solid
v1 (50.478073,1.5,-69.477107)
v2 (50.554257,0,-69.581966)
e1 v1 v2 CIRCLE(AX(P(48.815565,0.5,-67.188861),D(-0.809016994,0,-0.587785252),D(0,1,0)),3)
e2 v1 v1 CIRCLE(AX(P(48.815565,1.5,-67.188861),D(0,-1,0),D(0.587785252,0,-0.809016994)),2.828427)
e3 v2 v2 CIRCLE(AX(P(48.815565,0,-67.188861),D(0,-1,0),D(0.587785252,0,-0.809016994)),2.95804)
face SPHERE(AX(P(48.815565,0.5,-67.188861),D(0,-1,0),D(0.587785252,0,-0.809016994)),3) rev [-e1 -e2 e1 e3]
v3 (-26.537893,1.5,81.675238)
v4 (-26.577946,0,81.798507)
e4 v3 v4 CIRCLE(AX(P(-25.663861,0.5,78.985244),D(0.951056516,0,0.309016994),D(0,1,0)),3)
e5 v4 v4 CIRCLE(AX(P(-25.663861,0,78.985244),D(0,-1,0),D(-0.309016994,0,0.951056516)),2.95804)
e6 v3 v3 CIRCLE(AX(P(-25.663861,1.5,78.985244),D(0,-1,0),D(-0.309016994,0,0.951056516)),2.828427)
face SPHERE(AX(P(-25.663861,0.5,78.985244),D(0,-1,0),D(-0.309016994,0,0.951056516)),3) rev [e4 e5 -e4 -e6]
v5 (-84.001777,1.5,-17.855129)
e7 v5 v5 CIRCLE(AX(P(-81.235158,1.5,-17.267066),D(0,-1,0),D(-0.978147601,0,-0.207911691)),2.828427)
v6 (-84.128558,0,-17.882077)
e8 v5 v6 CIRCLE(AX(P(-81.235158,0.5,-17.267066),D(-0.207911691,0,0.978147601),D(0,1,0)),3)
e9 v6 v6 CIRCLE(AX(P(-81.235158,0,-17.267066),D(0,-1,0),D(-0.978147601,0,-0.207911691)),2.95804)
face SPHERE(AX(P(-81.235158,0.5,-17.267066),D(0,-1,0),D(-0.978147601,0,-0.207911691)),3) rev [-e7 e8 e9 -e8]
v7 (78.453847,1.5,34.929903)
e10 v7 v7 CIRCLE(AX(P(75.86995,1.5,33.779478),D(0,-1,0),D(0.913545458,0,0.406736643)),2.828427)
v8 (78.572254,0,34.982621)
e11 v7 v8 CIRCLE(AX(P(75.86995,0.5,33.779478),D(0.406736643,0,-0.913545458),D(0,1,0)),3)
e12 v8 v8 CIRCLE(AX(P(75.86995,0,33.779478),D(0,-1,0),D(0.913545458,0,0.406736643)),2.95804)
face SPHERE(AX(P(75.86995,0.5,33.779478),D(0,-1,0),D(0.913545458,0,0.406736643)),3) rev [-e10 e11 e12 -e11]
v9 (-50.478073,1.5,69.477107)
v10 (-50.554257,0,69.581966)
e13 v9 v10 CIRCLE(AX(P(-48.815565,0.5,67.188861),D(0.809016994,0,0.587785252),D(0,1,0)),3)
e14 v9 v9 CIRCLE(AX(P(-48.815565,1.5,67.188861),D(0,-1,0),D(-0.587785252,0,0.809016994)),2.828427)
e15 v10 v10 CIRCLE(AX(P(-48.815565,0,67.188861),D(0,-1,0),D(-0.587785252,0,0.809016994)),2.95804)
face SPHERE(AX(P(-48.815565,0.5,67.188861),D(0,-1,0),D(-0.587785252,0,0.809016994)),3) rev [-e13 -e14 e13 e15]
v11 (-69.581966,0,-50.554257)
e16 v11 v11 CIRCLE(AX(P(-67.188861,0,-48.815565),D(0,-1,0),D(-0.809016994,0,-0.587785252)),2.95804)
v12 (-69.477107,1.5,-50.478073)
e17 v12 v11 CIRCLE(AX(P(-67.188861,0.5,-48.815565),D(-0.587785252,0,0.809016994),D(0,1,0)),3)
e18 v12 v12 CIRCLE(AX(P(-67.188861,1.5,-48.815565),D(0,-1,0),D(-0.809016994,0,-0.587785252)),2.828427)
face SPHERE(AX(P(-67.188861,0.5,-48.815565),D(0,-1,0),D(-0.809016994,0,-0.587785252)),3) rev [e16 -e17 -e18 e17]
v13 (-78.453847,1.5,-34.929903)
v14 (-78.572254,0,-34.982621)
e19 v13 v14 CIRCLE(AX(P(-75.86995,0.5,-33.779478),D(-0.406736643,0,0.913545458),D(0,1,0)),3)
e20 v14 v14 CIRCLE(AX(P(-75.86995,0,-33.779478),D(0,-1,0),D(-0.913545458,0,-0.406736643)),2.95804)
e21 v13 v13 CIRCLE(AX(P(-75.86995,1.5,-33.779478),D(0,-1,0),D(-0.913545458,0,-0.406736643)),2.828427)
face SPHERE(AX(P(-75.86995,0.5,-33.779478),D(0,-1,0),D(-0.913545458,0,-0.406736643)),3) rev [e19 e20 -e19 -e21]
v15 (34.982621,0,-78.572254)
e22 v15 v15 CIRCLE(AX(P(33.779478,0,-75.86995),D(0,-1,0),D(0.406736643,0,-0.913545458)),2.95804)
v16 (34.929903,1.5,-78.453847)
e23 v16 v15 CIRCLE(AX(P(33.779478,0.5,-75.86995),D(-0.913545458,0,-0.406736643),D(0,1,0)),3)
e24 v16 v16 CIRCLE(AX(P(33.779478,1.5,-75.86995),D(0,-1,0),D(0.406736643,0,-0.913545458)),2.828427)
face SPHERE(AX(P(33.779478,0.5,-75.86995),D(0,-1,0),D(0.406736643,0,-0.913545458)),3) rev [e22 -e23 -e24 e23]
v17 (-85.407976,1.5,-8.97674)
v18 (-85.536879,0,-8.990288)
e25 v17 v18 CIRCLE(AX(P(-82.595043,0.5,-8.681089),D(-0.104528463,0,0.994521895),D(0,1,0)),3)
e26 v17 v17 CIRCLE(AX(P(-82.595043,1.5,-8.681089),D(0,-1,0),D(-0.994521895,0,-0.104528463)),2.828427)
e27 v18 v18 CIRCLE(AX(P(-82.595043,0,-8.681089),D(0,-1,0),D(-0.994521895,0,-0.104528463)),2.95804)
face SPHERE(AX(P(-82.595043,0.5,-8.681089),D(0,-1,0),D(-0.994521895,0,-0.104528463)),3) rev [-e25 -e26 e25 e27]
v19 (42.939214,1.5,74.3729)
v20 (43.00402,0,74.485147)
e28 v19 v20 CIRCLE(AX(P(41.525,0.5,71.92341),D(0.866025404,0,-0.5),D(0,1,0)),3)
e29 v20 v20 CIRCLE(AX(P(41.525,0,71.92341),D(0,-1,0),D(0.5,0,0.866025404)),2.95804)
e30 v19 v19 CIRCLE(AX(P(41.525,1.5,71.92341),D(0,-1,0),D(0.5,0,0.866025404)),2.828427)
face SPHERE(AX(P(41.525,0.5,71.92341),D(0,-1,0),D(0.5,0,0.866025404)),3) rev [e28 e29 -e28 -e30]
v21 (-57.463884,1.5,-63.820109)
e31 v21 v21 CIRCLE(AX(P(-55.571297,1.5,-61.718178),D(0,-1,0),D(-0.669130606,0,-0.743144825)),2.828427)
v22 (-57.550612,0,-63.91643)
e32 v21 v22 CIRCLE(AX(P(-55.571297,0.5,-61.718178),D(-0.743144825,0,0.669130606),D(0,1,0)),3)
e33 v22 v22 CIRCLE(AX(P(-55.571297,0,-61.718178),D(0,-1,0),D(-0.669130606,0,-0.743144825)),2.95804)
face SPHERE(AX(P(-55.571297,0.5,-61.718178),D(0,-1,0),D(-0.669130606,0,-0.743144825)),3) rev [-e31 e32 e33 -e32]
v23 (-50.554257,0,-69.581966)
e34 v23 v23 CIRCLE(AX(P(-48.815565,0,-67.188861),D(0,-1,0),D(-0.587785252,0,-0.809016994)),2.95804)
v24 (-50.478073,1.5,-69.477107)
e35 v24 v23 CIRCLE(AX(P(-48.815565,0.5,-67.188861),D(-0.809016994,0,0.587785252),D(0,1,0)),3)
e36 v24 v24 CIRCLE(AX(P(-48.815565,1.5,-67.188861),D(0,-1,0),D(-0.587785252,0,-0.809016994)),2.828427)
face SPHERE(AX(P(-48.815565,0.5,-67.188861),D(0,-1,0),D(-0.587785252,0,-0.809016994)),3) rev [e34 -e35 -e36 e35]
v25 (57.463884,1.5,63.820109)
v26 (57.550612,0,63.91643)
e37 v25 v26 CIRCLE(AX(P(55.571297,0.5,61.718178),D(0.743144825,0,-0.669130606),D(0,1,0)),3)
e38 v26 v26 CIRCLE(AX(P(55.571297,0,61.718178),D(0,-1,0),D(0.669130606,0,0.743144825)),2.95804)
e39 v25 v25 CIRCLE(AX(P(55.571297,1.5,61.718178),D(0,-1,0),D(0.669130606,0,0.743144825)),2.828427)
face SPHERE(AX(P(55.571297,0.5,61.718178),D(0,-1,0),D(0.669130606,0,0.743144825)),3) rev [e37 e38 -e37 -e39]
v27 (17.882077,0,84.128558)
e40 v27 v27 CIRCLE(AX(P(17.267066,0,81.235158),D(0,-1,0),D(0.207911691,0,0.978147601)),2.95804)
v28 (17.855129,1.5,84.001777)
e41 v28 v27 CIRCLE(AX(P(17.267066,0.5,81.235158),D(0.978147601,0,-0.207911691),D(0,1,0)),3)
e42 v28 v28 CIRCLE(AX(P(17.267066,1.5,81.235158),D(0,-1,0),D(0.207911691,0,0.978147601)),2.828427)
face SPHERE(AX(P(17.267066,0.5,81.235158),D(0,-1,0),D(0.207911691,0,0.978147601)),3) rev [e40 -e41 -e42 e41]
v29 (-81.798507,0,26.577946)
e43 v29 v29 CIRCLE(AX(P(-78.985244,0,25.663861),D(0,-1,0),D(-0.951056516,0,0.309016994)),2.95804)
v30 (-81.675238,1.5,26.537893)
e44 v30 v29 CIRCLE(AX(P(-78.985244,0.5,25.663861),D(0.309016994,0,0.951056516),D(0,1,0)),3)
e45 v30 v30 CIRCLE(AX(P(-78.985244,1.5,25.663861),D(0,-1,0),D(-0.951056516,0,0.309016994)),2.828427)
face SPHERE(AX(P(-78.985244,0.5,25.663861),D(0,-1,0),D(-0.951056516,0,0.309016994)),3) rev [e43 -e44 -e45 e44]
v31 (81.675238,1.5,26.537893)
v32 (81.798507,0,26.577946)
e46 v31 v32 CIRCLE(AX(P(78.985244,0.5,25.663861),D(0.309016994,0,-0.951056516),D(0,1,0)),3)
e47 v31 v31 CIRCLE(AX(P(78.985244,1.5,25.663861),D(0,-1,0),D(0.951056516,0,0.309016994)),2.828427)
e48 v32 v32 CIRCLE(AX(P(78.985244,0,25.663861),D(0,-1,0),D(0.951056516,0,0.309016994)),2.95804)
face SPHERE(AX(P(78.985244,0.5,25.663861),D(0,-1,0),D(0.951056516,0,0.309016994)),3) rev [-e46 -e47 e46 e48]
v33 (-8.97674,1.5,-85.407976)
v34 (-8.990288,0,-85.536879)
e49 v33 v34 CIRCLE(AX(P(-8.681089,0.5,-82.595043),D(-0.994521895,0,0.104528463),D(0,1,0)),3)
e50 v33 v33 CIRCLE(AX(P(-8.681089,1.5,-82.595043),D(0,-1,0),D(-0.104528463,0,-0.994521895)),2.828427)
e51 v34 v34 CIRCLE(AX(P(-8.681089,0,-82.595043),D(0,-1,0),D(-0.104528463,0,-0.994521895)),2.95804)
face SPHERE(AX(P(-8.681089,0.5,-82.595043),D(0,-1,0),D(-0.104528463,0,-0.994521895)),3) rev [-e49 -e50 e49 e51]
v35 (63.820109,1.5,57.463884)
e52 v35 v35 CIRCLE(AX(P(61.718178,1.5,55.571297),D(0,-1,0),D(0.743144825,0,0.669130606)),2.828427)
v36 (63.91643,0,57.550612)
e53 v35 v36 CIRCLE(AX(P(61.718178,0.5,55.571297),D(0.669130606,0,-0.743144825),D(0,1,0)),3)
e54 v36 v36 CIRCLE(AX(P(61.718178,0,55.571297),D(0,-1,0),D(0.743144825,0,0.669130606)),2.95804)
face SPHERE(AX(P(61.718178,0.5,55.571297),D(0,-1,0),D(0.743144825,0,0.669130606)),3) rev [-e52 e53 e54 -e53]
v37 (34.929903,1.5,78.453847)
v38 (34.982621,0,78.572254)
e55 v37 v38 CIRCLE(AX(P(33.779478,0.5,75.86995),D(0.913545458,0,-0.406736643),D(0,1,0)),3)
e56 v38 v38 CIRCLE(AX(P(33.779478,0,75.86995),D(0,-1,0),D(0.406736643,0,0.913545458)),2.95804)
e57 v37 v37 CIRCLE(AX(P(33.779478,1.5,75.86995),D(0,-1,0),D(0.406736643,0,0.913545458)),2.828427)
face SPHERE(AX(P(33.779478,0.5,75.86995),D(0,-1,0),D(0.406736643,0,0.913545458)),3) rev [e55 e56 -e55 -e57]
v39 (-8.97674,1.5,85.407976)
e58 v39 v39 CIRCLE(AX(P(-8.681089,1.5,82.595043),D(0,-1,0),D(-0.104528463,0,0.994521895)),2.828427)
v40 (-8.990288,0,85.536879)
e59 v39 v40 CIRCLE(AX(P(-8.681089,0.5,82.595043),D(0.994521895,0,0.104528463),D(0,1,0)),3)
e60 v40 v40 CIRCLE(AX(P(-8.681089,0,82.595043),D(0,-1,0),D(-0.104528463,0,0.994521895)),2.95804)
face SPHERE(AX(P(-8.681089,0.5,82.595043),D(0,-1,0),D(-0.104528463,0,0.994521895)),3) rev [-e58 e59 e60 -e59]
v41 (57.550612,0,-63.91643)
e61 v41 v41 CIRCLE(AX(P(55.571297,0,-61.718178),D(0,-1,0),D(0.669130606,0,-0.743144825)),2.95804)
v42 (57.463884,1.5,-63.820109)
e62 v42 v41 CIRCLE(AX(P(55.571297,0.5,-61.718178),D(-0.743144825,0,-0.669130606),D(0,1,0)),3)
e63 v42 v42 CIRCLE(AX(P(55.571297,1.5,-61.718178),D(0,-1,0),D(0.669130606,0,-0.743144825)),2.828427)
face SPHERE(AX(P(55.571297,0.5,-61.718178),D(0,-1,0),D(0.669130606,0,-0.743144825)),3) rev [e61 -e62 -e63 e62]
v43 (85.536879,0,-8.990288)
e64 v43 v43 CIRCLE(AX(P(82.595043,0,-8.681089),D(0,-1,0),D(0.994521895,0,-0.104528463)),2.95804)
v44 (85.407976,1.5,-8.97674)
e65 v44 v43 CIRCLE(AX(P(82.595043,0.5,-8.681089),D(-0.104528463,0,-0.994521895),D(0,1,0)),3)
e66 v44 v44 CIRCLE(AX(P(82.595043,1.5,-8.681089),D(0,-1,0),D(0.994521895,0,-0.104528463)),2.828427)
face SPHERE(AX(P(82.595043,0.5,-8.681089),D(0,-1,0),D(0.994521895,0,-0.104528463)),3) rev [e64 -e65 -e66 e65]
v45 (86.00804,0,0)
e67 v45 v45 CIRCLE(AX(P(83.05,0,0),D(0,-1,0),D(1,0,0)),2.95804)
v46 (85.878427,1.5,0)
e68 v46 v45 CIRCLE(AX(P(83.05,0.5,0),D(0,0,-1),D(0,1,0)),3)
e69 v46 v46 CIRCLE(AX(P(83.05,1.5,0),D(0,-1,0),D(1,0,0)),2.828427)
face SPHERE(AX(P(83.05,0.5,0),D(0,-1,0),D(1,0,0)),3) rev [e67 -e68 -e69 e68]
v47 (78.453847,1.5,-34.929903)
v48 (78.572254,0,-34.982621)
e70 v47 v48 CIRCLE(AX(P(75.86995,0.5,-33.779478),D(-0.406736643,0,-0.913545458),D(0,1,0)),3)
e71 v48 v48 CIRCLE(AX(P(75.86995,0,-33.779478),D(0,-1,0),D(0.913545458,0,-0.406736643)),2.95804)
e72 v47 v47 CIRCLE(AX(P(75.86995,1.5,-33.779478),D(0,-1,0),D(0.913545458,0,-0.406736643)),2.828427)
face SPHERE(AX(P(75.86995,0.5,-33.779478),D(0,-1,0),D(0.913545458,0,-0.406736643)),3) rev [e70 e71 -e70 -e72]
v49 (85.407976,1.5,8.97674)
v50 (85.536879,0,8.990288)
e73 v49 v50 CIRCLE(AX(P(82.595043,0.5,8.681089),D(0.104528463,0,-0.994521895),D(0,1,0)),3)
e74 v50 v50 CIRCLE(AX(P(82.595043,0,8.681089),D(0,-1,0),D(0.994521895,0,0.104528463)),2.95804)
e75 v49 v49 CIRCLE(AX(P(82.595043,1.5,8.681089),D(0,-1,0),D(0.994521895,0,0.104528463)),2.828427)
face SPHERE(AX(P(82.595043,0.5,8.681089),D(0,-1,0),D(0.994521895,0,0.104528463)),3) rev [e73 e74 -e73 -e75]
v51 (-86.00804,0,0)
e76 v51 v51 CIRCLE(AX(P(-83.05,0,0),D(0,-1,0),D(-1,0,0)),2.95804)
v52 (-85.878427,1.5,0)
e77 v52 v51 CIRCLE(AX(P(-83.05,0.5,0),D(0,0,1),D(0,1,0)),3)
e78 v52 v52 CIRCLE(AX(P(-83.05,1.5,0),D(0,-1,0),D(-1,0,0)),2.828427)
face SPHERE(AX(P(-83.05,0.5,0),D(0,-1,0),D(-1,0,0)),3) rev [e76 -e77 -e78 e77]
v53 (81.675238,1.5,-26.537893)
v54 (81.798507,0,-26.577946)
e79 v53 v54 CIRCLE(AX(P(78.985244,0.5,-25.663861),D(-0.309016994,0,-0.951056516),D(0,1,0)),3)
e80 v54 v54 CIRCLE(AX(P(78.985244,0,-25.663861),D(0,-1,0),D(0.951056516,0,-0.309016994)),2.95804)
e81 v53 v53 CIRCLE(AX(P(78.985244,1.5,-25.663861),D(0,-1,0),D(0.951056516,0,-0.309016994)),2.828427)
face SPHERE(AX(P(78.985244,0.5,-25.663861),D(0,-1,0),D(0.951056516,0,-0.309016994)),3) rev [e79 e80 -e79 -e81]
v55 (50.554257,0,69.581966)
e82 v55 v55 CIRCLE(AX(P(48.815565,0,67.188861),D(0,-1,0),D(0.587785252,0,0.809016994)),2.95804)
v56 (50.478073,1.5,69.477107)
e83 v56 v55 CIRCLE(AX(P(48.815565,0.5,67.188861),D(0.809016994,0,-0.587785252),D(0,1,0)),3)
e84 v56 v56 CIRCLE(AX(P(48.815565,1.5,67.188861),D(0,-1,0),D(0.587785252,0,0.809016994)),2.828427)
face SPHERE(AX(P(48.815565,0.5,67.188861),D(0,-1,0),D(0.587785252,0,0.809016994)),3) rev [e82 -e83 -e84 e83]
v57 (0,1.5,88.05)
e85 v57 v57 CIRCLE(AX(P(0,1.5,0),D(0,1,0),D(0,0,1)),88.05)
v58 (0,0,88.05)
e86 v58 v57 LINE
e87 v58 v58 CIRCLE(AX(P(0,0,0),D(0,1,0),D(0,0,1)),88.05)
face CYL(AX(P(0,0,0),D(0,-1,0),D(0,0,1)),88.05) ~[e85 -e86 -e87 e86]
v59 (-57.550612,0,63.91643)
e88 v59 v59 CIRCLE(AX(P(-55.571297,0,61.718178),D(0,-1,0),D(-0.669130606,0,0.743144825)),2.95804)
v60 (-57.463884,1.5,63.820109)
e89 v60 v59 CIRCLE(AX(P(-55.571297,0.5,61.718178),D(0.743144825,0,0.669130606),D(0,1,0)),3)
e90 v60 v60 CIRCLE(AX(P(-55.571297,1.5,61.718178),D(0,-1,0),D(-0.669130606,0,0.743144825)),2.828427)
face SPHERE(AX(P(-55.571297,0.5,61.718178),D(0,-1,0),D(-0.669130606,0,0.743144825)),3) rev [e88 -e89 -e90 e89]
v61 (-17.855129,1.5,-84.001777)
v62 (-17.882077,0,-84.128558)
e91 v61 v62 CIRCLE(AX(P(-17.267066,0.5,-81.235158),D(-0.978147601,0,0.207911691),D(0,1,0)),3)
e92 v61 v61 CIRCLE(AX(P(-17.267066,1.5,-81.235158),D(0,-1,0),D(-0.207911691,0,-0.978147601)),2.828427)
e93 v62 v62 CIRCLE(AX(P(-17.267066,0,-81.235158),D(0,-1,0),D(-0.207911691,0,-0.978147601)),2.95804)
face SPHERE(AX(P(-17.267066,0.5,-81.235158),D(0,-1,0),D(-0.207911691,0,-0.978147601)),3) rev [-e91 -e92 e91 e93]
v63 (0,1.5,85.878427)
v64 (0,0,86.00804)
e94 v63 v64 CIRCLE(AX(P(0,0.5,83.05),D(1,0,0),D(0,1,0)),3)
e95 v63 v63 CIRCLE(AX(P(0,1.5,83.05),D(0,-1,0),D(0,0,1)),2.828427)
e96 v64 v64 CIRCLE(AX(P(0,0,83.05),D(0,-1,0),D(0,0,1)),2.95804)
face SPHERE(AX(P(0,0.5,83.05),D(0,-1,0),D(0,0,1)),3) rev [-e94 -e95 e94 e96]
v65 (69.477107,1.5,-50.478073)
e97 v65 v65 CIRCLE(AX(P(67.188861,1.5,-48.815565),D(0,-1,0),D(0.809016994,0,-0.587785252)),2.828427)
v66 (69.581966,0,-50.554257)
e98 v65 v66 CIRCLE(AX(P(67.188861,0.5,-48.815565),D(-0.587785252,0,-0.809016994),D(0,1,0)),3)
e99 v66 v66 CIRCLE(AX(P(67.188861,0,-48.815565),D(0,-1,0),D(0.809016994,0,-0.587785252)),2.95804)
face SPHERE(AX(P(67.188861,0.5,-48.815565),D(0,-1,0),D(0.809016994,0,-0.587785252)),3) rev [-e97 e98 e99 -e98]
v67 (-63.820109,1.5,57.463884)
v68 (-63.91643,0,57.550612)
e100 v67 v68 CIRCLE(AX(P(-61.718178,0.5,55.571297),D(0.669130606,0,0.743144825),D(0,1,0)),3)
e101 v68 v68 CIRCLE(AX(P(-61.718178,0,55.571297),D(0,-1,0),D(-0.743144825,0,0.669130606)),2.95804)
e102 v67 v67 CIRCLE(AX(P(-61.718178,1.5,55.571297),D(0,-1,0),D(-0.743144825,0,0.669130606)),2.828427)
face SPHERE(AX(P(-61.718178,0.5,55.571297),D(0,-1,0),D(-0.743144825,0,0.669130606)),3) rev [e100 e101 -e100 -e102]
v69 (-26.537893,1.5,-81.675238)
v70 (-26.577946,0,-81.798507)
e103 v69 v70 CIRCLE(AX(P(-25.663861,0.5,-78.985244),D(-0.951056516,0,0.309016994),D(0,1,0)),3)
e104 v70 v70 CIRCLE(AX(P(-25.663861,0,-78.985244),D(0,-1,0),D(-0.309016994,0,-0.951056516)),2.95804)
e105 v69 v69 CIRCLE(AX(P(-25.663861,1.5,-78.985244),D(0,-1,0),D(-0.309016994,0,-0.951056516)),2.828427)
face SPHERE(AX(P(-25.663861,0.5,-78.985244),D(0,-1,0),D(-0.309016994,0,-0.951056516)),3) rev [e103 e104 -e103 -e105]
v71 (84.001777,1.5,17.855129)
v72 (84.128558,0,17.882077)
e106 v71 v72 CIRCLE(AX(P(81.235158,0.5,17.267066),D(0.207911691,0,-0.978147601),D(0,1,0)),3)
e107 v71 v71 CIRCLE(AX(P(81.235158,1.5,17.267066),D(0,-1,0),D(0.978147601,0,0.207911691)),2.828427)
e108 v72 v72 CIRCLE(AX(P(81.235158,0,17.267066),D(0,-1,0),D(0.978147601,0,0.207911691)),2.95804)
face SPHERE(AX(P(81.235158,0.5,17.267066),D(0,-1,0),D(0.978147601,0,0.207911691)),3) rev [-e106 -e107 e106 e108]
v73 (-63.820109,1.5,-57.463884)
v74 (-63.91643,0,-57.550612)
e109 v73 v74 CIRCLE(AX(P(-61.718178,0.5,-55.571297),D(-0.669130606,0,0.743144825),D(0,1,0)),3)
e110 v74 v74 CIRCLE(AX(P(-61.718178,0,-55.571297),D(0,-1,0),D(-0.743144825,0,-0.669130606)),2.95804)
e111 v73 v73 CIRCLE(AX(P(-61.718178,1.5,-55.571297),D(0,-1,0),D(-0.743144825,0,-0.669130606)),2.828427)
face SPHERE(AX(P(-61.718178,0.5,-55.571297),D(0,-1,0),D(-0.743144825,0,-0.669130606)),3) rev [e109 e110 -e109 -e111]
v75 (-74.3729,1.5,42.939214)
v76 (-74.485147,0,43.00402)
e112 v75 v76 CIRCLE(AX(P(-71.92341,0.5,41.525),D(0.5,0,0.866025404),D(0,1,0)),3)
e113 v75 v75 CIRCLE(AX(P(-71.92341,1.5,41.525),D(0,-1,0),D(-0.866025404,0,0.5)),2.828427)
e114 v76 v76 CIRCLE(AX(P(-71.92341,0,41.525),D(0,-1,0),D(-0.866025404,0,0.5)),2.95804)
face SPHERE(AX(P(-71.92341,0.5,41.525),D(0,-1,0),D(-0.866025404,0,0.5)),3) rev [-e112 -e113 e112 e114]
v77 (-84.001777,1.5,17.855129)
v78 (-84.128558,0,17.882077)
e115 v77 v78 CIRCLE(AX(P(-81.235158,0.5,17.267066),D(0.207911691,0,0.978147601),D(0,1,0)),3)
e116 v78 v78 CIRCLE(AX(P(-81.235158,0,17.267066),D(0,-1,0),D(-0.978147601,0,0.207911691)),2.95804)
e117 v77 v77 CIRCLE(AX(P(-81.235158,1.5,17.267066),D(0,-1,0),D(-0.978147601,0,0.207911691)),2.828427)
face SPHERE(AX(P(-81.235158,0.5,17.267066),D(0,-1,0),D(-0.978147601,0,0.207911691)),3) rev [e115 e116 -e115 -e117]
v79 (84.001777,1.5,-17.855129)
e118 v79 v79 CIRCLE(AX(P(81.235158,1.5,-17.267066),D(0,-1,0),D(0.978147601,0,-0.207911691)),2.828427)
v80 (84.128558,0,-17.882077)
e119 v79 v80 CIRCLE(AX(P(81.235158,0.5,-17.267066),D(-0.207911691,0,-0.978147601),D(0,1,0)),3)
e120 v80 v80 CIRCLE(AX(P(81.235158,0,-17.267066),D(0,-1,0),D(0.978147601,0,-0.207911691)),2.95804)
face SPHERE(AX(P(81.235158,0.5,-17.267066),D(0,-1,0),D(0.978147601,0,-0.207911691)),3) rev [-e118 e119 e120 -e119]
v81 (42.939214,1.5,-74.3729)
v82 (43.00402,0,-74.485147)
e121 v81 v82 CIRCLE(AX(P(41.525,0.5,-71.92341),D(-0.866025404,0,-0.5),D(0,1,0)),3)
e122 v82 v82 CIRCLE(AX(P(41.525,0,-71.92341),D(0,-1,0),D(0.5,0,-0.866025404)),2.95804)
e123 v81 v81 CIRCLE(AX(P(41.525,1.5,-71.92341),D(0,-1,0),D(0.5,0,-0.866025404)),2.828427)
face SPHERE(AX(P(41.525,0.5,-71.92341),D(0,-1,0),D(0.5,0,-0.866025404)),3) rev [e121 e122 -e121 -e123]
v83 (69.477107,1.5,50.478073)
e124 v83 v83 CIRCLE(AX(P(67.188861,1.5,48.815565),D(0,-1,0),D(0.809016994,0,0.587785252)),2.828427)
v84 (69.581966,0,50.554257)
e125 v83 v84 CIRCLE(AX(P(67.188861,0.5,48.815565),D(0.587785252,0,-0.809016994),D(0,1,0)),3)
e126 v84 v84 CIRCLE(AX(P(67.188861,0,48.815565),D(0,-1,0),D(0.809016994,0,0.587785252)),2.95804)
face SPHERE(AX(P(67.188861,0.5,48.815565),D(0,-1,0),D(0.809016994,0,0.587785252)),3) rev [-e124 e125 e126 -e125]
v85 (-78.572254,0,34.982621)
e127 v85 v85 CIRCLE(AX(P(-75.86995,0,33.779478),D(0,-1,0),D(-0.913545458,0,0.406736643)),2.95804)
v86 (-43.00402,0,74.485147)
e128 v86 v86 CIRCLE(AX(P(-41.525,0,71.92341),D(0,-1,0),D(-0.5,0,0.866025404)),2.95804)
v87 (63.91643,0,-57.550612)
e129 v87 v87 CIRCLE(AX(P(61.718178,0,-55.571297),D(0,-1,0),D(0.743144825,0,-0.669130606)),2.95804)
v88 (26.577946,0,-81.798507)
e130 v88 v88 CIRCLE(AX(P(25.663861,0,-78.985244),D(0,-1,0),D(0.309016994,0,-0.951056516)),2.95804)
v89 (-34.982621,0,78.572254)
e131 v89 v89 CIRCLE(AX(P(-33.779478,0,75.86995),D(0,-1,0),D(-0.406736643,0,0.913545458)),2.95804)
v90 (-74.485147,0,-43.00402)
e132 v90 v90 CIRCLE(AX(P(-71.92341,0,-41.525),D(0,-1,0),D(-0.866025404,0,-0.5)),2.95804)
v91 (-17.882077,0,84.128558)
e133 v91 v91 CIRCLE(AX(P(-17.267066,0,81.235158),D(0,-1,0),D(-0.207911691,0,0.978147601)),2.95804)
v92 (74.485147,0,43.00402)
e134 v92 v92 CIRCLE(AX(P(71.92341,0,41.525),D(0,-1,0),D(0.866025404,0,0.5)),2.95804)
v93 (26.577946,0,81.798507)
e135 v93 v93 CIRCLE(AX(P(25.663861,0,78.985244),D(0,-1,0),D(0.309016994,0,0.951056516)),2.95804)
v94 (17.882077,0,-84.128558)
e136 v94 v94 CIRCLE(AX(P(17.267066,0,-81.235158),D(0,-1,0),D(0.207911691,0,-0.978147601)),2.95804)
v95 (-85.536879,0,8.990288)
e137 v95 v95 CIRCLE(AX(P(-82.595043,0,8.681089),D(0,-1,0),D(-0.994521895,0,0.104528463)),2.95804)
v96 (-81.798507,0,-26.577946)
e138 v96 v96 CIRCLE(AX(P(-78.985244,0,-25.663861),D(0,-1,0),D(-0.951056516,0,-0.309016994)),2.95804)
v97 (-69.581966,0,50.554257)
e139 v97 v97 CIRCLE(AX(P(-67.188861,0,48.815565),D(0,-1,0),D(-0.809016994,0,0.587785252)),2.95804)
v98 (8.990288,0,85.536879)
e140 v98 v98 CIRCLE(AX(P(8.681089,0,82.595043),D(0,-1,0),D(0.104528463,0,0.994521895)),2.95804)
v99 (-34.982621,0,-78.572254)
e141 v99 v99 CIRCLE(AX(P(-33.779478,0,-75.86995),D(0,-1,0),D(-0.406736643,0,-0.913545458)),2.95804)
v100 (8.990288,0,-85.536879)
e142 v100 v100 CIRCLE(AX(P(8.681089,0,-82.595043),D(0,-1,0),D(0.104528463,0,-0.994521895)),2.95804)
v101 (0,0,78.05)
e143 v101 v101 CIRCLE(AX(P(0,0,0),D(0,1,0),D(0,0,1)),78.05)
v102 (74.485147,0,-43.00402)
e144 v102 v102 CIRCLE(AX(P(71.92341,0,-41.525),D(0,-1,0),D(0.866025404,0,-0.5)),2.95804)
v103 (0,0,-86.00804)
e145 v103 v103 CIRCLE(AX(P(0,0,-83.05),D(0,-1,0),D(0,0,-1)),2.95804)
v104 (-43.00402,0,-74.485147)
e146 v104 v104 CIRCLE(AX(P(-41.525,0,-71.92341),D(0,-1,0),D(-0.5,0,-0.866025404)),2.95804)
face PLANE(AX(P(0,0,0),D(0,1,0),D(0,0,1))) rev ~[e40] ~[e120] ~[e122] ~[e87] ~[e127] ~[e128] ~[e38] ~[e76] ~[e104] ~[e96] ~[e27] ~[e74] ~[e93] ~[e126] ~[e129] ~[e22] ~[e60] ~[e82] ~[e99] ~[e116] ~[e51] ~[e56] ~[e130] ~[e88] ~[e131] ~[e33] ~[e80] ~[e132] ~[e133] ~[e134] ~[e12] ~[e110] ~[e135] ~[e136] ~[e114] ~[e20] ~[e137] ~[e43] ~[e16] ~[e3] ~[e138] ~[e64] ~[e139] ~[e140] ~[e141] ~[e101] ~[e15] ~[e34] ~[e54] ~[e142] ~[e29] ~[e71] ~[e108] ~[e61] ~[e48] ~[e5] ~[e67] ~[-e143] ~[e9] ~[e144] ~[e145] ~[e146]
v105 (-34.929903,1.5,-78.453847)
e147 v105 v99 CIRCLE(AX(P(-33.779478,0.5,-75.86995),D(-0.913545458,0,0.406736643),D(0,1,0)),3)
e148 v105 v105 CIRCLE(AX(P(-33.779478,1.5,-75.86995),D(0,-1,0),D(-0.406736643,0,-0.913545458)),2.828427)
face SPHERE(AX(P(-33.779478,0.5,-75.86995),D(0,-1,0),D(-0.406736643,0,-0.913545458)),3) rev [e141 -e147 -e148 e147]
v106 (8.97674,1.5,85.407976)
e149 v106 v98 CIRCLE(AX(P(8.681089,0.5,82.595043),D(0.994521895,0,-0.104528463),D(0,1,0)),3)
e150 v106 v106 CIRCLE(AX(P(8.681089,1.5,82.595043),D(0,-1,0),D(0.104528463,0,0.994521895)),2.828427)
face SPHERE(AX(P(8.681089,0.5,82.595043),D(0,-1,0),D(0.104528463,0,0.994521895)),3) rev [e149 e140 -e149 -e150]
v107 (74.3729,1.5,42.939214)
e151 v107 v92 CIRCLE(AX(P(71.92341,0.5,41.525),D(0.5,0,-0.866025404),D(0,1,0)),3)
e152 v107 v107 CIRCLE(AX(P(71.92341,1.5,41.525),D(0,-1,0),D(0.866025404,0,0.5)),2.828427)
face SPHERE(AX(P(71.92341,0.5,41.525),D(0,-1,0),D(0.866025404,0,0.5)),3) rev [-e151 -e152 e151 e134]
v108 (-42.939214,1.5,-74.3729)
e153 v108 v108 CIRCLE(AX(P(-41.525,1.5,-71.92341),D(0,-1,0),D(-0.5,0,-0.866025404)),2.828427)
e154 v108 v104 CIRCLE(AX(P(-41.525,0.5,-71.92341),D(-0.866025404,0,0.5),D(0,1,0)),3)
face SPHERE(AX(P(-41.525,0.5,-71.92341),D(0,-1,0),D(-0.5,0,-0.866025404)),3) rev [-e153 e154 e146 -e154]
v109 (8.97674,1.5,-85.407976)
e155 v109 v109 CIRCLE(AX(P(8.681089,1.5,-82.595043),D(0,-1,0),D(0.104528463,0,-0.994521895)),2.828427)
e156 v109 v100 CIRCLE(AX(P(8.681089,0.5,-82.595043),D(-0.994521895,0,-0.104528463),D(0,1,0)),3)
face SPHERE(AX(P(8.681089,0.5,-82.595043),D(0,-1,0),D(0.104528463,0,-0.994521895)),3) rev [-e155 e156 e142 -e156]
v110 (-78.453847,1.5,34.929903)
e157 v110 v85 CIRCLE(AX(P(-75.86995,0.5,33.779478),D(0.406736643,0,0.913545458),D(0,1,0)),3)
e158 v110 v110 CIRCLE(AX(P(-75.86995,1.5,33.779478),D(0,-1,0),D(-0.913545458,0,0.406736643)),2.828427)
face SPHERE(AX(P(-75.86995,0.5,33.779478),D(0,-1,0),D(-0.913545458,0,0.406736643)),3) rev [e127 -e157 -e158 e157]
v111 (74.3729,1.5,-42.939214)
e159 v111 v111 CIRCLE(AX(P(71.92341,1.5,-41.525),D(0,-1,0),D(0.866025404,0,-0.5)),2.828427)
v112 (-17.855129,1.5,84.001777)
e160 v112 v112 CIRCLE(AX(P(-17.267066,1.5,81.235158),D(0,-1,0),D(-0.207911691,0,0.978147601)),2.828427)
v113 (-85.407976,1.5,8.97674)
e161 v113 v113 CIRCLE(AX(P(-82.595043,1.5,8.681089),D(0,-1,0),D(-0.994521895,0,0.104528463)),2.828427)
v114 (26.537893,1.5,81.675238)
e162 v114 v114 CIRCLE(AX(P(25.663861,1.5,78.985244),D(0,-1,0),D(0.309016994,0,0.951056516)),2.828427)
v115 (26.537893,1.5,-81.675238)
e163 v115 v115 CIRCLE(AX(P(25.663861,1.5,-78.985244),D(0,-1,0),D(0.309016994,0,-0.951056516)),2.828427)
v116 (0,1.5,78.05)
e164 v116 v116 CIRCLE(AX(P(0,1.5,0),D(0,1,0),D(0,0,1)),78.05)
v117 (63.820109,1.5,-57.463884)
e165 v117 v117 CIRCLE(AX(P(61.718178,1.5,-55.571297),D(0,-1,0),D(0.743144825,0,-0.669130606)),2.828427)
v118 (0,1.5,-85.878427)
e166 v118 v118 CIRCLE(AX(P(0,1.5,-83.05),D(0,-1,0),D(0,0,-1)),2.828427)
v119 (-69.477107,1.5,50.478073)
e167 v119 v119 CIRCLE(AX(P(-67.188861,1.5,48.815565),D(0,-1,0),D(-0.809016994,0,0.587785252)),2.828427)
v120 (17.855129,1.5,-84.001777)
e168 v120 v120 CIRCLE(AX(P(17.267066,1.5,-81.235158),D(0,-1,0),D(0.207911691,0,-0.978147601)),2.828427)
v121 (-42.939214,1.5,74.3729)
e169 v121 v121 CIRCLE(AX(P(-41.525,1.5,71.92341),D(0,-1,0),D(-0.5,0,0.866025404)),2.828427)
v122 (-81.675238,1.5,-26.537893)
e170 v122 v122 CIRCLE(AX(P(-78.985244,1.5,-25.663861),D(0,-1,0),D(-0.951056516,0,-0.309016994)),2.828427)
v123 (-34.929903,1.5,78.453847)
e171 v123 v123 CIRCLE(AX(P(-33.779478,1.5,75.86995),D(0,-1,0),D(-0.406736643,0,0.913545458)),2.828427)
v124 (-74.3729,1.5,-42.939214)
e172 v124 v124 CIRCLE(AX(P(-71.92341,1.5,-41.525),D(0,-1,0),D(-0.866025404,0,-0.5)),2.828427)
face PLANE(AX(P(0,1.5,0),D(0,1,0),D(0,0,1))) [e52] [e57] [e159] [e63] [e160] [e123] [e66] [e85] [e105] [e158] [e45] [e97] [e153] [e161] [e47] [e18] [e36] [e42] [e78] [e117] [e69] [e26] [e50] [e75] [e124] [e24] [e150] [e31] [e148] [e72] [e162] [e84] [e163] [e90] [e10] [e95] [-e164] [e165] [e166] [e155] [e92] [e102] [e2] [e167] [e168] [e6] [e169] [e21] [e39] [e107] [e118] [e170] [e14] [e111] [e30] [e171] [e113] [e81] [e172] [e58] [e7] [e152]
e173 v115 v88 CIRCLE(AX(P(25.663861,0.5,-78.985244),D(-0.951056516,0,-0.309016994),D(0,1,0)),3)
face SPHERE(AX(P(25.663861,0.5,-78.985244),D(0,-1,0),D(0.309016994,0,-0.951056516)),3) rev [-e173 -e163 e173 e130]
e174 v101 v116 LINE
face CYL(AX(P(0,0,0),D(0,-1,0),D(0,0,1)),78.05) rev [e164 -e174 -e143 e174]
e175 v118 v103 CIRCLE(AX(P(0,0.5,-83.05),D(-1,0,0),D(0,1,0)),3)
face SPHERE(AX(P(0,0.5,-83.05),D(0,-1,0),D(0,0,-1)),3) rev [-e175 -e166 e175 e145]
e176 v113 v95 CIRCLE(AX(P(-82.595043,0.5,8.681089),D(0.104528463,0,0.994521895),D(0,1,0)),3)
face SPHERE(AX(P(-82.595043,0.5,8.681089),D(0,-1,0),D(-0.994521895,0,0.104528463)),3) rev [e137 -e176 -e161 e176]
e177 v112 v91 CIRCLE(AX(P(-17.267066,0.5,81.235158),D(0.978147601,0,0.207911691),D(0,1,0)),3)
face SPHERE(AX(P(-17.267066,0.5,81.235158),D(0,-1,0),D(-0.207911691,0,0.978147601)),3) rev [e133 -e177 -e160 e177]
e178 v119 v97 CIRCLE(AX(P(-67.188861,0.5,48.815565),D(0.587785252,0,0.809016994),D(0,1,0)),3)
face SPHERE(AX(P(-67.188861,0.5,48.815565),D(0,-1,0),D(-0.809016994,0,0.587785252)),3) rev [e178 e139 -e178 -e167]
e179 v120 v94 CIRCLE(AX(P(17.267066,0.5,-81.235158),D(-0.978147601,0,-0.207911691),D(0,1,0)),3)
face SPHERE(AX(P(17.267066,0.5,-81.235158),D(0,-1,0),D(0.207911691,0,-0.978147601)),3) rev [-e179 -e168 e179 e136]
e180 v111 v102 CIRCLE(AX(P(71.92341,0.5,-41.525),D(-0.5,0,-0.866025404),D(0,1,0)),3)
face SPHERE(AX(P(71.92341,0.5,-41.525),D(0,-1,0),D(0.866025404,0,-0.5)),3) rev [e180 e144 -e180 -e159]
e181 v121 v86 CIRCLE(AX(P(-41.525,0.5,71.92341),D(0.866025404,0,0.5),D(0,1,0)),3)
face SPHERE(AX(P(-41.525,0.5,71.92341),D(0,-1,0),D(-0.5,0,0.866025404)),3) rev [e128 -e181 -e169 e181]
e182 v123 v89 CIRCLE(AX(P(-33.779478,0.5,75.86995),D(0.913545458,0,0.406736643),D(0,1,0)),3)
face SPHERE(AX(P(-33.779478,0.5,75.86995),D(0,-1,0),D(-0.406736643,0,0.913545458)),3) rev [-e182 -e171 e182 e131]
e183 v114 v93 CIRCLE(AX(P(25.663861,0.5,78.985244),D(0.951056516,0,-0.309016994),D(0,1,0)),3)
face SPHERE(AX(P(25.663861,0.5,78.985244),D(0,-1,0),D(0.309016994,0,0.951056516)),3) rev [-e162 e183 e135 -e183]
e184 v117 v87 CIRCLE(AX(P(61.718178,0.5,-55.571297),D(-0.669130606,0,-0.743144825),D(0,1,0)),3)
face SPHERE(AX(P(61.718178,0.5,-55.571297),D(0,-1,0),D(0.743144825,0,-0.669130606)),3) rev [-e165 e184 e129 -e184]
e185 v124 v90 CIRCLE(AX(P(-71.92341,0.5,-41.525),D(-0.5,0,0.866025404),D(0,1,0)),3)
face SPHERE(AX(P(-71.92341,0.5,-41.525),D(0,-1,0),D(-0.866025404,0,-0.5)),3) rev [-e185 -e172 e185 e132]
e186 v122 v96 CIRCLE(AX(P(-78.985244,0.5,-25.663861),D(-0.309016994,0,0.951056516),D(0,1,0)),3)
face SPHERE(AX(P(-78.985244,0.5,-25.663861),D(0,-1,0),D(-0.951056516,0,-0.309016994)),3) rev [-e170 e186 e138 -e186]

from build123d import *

# Parameters (mm, degrees)
SKETCH1_R           = 88.05
SKETCH1_R_2         = 78.05
BOSS_EXTRUDE1_DEPTH = 1.5
CIRPATTERN5_COUNT   = 60


with BuildPart() as part:
    # Sketch1 → Boss-Extrude1 (new body)
    with BuildSketch(Plane(origin=(0, 0, 0), x_dir=(1, 0, 0), z_dir=(0, 1, 0))):
        Circle(SKETCH1_R)
        Circle(SKETCH1_R_2, mode=Mode.SUBTRACT)
    extrude(amount=BOSS_EXTRUDE1_DEPTH)

    # Sketch2 → Cut-Revolve1 (revolve, cut)
    with BuildSketch(Plane.XY):
        with BuildLine():
            Line((83.05, 3.5), (83.05, -2.5))
            ThreePointArc((83.05, -2.5), (86.05, 0.5), (83.05, 3.5))
        make_face()
    cut_revolve1 = revolve(axis=Axis((83.05, -2.5, 0), (0, 1, 0)), mode=Mode.SUBTRACT)

    # CirPattern5: Cut-Revolve1 ×60 about axis
    cirpattern5_axis = Axis((0, 0, 0), (0, 1, 0))
    for i in range(1, CIRPATTERN5_COUNT):
        add(cut_revolve1.rotate(cirpattern5_axis, i * 360 / CIRPATTERN5_COUNT), mode=Mode.SUBTRACT)


solid = part.part
